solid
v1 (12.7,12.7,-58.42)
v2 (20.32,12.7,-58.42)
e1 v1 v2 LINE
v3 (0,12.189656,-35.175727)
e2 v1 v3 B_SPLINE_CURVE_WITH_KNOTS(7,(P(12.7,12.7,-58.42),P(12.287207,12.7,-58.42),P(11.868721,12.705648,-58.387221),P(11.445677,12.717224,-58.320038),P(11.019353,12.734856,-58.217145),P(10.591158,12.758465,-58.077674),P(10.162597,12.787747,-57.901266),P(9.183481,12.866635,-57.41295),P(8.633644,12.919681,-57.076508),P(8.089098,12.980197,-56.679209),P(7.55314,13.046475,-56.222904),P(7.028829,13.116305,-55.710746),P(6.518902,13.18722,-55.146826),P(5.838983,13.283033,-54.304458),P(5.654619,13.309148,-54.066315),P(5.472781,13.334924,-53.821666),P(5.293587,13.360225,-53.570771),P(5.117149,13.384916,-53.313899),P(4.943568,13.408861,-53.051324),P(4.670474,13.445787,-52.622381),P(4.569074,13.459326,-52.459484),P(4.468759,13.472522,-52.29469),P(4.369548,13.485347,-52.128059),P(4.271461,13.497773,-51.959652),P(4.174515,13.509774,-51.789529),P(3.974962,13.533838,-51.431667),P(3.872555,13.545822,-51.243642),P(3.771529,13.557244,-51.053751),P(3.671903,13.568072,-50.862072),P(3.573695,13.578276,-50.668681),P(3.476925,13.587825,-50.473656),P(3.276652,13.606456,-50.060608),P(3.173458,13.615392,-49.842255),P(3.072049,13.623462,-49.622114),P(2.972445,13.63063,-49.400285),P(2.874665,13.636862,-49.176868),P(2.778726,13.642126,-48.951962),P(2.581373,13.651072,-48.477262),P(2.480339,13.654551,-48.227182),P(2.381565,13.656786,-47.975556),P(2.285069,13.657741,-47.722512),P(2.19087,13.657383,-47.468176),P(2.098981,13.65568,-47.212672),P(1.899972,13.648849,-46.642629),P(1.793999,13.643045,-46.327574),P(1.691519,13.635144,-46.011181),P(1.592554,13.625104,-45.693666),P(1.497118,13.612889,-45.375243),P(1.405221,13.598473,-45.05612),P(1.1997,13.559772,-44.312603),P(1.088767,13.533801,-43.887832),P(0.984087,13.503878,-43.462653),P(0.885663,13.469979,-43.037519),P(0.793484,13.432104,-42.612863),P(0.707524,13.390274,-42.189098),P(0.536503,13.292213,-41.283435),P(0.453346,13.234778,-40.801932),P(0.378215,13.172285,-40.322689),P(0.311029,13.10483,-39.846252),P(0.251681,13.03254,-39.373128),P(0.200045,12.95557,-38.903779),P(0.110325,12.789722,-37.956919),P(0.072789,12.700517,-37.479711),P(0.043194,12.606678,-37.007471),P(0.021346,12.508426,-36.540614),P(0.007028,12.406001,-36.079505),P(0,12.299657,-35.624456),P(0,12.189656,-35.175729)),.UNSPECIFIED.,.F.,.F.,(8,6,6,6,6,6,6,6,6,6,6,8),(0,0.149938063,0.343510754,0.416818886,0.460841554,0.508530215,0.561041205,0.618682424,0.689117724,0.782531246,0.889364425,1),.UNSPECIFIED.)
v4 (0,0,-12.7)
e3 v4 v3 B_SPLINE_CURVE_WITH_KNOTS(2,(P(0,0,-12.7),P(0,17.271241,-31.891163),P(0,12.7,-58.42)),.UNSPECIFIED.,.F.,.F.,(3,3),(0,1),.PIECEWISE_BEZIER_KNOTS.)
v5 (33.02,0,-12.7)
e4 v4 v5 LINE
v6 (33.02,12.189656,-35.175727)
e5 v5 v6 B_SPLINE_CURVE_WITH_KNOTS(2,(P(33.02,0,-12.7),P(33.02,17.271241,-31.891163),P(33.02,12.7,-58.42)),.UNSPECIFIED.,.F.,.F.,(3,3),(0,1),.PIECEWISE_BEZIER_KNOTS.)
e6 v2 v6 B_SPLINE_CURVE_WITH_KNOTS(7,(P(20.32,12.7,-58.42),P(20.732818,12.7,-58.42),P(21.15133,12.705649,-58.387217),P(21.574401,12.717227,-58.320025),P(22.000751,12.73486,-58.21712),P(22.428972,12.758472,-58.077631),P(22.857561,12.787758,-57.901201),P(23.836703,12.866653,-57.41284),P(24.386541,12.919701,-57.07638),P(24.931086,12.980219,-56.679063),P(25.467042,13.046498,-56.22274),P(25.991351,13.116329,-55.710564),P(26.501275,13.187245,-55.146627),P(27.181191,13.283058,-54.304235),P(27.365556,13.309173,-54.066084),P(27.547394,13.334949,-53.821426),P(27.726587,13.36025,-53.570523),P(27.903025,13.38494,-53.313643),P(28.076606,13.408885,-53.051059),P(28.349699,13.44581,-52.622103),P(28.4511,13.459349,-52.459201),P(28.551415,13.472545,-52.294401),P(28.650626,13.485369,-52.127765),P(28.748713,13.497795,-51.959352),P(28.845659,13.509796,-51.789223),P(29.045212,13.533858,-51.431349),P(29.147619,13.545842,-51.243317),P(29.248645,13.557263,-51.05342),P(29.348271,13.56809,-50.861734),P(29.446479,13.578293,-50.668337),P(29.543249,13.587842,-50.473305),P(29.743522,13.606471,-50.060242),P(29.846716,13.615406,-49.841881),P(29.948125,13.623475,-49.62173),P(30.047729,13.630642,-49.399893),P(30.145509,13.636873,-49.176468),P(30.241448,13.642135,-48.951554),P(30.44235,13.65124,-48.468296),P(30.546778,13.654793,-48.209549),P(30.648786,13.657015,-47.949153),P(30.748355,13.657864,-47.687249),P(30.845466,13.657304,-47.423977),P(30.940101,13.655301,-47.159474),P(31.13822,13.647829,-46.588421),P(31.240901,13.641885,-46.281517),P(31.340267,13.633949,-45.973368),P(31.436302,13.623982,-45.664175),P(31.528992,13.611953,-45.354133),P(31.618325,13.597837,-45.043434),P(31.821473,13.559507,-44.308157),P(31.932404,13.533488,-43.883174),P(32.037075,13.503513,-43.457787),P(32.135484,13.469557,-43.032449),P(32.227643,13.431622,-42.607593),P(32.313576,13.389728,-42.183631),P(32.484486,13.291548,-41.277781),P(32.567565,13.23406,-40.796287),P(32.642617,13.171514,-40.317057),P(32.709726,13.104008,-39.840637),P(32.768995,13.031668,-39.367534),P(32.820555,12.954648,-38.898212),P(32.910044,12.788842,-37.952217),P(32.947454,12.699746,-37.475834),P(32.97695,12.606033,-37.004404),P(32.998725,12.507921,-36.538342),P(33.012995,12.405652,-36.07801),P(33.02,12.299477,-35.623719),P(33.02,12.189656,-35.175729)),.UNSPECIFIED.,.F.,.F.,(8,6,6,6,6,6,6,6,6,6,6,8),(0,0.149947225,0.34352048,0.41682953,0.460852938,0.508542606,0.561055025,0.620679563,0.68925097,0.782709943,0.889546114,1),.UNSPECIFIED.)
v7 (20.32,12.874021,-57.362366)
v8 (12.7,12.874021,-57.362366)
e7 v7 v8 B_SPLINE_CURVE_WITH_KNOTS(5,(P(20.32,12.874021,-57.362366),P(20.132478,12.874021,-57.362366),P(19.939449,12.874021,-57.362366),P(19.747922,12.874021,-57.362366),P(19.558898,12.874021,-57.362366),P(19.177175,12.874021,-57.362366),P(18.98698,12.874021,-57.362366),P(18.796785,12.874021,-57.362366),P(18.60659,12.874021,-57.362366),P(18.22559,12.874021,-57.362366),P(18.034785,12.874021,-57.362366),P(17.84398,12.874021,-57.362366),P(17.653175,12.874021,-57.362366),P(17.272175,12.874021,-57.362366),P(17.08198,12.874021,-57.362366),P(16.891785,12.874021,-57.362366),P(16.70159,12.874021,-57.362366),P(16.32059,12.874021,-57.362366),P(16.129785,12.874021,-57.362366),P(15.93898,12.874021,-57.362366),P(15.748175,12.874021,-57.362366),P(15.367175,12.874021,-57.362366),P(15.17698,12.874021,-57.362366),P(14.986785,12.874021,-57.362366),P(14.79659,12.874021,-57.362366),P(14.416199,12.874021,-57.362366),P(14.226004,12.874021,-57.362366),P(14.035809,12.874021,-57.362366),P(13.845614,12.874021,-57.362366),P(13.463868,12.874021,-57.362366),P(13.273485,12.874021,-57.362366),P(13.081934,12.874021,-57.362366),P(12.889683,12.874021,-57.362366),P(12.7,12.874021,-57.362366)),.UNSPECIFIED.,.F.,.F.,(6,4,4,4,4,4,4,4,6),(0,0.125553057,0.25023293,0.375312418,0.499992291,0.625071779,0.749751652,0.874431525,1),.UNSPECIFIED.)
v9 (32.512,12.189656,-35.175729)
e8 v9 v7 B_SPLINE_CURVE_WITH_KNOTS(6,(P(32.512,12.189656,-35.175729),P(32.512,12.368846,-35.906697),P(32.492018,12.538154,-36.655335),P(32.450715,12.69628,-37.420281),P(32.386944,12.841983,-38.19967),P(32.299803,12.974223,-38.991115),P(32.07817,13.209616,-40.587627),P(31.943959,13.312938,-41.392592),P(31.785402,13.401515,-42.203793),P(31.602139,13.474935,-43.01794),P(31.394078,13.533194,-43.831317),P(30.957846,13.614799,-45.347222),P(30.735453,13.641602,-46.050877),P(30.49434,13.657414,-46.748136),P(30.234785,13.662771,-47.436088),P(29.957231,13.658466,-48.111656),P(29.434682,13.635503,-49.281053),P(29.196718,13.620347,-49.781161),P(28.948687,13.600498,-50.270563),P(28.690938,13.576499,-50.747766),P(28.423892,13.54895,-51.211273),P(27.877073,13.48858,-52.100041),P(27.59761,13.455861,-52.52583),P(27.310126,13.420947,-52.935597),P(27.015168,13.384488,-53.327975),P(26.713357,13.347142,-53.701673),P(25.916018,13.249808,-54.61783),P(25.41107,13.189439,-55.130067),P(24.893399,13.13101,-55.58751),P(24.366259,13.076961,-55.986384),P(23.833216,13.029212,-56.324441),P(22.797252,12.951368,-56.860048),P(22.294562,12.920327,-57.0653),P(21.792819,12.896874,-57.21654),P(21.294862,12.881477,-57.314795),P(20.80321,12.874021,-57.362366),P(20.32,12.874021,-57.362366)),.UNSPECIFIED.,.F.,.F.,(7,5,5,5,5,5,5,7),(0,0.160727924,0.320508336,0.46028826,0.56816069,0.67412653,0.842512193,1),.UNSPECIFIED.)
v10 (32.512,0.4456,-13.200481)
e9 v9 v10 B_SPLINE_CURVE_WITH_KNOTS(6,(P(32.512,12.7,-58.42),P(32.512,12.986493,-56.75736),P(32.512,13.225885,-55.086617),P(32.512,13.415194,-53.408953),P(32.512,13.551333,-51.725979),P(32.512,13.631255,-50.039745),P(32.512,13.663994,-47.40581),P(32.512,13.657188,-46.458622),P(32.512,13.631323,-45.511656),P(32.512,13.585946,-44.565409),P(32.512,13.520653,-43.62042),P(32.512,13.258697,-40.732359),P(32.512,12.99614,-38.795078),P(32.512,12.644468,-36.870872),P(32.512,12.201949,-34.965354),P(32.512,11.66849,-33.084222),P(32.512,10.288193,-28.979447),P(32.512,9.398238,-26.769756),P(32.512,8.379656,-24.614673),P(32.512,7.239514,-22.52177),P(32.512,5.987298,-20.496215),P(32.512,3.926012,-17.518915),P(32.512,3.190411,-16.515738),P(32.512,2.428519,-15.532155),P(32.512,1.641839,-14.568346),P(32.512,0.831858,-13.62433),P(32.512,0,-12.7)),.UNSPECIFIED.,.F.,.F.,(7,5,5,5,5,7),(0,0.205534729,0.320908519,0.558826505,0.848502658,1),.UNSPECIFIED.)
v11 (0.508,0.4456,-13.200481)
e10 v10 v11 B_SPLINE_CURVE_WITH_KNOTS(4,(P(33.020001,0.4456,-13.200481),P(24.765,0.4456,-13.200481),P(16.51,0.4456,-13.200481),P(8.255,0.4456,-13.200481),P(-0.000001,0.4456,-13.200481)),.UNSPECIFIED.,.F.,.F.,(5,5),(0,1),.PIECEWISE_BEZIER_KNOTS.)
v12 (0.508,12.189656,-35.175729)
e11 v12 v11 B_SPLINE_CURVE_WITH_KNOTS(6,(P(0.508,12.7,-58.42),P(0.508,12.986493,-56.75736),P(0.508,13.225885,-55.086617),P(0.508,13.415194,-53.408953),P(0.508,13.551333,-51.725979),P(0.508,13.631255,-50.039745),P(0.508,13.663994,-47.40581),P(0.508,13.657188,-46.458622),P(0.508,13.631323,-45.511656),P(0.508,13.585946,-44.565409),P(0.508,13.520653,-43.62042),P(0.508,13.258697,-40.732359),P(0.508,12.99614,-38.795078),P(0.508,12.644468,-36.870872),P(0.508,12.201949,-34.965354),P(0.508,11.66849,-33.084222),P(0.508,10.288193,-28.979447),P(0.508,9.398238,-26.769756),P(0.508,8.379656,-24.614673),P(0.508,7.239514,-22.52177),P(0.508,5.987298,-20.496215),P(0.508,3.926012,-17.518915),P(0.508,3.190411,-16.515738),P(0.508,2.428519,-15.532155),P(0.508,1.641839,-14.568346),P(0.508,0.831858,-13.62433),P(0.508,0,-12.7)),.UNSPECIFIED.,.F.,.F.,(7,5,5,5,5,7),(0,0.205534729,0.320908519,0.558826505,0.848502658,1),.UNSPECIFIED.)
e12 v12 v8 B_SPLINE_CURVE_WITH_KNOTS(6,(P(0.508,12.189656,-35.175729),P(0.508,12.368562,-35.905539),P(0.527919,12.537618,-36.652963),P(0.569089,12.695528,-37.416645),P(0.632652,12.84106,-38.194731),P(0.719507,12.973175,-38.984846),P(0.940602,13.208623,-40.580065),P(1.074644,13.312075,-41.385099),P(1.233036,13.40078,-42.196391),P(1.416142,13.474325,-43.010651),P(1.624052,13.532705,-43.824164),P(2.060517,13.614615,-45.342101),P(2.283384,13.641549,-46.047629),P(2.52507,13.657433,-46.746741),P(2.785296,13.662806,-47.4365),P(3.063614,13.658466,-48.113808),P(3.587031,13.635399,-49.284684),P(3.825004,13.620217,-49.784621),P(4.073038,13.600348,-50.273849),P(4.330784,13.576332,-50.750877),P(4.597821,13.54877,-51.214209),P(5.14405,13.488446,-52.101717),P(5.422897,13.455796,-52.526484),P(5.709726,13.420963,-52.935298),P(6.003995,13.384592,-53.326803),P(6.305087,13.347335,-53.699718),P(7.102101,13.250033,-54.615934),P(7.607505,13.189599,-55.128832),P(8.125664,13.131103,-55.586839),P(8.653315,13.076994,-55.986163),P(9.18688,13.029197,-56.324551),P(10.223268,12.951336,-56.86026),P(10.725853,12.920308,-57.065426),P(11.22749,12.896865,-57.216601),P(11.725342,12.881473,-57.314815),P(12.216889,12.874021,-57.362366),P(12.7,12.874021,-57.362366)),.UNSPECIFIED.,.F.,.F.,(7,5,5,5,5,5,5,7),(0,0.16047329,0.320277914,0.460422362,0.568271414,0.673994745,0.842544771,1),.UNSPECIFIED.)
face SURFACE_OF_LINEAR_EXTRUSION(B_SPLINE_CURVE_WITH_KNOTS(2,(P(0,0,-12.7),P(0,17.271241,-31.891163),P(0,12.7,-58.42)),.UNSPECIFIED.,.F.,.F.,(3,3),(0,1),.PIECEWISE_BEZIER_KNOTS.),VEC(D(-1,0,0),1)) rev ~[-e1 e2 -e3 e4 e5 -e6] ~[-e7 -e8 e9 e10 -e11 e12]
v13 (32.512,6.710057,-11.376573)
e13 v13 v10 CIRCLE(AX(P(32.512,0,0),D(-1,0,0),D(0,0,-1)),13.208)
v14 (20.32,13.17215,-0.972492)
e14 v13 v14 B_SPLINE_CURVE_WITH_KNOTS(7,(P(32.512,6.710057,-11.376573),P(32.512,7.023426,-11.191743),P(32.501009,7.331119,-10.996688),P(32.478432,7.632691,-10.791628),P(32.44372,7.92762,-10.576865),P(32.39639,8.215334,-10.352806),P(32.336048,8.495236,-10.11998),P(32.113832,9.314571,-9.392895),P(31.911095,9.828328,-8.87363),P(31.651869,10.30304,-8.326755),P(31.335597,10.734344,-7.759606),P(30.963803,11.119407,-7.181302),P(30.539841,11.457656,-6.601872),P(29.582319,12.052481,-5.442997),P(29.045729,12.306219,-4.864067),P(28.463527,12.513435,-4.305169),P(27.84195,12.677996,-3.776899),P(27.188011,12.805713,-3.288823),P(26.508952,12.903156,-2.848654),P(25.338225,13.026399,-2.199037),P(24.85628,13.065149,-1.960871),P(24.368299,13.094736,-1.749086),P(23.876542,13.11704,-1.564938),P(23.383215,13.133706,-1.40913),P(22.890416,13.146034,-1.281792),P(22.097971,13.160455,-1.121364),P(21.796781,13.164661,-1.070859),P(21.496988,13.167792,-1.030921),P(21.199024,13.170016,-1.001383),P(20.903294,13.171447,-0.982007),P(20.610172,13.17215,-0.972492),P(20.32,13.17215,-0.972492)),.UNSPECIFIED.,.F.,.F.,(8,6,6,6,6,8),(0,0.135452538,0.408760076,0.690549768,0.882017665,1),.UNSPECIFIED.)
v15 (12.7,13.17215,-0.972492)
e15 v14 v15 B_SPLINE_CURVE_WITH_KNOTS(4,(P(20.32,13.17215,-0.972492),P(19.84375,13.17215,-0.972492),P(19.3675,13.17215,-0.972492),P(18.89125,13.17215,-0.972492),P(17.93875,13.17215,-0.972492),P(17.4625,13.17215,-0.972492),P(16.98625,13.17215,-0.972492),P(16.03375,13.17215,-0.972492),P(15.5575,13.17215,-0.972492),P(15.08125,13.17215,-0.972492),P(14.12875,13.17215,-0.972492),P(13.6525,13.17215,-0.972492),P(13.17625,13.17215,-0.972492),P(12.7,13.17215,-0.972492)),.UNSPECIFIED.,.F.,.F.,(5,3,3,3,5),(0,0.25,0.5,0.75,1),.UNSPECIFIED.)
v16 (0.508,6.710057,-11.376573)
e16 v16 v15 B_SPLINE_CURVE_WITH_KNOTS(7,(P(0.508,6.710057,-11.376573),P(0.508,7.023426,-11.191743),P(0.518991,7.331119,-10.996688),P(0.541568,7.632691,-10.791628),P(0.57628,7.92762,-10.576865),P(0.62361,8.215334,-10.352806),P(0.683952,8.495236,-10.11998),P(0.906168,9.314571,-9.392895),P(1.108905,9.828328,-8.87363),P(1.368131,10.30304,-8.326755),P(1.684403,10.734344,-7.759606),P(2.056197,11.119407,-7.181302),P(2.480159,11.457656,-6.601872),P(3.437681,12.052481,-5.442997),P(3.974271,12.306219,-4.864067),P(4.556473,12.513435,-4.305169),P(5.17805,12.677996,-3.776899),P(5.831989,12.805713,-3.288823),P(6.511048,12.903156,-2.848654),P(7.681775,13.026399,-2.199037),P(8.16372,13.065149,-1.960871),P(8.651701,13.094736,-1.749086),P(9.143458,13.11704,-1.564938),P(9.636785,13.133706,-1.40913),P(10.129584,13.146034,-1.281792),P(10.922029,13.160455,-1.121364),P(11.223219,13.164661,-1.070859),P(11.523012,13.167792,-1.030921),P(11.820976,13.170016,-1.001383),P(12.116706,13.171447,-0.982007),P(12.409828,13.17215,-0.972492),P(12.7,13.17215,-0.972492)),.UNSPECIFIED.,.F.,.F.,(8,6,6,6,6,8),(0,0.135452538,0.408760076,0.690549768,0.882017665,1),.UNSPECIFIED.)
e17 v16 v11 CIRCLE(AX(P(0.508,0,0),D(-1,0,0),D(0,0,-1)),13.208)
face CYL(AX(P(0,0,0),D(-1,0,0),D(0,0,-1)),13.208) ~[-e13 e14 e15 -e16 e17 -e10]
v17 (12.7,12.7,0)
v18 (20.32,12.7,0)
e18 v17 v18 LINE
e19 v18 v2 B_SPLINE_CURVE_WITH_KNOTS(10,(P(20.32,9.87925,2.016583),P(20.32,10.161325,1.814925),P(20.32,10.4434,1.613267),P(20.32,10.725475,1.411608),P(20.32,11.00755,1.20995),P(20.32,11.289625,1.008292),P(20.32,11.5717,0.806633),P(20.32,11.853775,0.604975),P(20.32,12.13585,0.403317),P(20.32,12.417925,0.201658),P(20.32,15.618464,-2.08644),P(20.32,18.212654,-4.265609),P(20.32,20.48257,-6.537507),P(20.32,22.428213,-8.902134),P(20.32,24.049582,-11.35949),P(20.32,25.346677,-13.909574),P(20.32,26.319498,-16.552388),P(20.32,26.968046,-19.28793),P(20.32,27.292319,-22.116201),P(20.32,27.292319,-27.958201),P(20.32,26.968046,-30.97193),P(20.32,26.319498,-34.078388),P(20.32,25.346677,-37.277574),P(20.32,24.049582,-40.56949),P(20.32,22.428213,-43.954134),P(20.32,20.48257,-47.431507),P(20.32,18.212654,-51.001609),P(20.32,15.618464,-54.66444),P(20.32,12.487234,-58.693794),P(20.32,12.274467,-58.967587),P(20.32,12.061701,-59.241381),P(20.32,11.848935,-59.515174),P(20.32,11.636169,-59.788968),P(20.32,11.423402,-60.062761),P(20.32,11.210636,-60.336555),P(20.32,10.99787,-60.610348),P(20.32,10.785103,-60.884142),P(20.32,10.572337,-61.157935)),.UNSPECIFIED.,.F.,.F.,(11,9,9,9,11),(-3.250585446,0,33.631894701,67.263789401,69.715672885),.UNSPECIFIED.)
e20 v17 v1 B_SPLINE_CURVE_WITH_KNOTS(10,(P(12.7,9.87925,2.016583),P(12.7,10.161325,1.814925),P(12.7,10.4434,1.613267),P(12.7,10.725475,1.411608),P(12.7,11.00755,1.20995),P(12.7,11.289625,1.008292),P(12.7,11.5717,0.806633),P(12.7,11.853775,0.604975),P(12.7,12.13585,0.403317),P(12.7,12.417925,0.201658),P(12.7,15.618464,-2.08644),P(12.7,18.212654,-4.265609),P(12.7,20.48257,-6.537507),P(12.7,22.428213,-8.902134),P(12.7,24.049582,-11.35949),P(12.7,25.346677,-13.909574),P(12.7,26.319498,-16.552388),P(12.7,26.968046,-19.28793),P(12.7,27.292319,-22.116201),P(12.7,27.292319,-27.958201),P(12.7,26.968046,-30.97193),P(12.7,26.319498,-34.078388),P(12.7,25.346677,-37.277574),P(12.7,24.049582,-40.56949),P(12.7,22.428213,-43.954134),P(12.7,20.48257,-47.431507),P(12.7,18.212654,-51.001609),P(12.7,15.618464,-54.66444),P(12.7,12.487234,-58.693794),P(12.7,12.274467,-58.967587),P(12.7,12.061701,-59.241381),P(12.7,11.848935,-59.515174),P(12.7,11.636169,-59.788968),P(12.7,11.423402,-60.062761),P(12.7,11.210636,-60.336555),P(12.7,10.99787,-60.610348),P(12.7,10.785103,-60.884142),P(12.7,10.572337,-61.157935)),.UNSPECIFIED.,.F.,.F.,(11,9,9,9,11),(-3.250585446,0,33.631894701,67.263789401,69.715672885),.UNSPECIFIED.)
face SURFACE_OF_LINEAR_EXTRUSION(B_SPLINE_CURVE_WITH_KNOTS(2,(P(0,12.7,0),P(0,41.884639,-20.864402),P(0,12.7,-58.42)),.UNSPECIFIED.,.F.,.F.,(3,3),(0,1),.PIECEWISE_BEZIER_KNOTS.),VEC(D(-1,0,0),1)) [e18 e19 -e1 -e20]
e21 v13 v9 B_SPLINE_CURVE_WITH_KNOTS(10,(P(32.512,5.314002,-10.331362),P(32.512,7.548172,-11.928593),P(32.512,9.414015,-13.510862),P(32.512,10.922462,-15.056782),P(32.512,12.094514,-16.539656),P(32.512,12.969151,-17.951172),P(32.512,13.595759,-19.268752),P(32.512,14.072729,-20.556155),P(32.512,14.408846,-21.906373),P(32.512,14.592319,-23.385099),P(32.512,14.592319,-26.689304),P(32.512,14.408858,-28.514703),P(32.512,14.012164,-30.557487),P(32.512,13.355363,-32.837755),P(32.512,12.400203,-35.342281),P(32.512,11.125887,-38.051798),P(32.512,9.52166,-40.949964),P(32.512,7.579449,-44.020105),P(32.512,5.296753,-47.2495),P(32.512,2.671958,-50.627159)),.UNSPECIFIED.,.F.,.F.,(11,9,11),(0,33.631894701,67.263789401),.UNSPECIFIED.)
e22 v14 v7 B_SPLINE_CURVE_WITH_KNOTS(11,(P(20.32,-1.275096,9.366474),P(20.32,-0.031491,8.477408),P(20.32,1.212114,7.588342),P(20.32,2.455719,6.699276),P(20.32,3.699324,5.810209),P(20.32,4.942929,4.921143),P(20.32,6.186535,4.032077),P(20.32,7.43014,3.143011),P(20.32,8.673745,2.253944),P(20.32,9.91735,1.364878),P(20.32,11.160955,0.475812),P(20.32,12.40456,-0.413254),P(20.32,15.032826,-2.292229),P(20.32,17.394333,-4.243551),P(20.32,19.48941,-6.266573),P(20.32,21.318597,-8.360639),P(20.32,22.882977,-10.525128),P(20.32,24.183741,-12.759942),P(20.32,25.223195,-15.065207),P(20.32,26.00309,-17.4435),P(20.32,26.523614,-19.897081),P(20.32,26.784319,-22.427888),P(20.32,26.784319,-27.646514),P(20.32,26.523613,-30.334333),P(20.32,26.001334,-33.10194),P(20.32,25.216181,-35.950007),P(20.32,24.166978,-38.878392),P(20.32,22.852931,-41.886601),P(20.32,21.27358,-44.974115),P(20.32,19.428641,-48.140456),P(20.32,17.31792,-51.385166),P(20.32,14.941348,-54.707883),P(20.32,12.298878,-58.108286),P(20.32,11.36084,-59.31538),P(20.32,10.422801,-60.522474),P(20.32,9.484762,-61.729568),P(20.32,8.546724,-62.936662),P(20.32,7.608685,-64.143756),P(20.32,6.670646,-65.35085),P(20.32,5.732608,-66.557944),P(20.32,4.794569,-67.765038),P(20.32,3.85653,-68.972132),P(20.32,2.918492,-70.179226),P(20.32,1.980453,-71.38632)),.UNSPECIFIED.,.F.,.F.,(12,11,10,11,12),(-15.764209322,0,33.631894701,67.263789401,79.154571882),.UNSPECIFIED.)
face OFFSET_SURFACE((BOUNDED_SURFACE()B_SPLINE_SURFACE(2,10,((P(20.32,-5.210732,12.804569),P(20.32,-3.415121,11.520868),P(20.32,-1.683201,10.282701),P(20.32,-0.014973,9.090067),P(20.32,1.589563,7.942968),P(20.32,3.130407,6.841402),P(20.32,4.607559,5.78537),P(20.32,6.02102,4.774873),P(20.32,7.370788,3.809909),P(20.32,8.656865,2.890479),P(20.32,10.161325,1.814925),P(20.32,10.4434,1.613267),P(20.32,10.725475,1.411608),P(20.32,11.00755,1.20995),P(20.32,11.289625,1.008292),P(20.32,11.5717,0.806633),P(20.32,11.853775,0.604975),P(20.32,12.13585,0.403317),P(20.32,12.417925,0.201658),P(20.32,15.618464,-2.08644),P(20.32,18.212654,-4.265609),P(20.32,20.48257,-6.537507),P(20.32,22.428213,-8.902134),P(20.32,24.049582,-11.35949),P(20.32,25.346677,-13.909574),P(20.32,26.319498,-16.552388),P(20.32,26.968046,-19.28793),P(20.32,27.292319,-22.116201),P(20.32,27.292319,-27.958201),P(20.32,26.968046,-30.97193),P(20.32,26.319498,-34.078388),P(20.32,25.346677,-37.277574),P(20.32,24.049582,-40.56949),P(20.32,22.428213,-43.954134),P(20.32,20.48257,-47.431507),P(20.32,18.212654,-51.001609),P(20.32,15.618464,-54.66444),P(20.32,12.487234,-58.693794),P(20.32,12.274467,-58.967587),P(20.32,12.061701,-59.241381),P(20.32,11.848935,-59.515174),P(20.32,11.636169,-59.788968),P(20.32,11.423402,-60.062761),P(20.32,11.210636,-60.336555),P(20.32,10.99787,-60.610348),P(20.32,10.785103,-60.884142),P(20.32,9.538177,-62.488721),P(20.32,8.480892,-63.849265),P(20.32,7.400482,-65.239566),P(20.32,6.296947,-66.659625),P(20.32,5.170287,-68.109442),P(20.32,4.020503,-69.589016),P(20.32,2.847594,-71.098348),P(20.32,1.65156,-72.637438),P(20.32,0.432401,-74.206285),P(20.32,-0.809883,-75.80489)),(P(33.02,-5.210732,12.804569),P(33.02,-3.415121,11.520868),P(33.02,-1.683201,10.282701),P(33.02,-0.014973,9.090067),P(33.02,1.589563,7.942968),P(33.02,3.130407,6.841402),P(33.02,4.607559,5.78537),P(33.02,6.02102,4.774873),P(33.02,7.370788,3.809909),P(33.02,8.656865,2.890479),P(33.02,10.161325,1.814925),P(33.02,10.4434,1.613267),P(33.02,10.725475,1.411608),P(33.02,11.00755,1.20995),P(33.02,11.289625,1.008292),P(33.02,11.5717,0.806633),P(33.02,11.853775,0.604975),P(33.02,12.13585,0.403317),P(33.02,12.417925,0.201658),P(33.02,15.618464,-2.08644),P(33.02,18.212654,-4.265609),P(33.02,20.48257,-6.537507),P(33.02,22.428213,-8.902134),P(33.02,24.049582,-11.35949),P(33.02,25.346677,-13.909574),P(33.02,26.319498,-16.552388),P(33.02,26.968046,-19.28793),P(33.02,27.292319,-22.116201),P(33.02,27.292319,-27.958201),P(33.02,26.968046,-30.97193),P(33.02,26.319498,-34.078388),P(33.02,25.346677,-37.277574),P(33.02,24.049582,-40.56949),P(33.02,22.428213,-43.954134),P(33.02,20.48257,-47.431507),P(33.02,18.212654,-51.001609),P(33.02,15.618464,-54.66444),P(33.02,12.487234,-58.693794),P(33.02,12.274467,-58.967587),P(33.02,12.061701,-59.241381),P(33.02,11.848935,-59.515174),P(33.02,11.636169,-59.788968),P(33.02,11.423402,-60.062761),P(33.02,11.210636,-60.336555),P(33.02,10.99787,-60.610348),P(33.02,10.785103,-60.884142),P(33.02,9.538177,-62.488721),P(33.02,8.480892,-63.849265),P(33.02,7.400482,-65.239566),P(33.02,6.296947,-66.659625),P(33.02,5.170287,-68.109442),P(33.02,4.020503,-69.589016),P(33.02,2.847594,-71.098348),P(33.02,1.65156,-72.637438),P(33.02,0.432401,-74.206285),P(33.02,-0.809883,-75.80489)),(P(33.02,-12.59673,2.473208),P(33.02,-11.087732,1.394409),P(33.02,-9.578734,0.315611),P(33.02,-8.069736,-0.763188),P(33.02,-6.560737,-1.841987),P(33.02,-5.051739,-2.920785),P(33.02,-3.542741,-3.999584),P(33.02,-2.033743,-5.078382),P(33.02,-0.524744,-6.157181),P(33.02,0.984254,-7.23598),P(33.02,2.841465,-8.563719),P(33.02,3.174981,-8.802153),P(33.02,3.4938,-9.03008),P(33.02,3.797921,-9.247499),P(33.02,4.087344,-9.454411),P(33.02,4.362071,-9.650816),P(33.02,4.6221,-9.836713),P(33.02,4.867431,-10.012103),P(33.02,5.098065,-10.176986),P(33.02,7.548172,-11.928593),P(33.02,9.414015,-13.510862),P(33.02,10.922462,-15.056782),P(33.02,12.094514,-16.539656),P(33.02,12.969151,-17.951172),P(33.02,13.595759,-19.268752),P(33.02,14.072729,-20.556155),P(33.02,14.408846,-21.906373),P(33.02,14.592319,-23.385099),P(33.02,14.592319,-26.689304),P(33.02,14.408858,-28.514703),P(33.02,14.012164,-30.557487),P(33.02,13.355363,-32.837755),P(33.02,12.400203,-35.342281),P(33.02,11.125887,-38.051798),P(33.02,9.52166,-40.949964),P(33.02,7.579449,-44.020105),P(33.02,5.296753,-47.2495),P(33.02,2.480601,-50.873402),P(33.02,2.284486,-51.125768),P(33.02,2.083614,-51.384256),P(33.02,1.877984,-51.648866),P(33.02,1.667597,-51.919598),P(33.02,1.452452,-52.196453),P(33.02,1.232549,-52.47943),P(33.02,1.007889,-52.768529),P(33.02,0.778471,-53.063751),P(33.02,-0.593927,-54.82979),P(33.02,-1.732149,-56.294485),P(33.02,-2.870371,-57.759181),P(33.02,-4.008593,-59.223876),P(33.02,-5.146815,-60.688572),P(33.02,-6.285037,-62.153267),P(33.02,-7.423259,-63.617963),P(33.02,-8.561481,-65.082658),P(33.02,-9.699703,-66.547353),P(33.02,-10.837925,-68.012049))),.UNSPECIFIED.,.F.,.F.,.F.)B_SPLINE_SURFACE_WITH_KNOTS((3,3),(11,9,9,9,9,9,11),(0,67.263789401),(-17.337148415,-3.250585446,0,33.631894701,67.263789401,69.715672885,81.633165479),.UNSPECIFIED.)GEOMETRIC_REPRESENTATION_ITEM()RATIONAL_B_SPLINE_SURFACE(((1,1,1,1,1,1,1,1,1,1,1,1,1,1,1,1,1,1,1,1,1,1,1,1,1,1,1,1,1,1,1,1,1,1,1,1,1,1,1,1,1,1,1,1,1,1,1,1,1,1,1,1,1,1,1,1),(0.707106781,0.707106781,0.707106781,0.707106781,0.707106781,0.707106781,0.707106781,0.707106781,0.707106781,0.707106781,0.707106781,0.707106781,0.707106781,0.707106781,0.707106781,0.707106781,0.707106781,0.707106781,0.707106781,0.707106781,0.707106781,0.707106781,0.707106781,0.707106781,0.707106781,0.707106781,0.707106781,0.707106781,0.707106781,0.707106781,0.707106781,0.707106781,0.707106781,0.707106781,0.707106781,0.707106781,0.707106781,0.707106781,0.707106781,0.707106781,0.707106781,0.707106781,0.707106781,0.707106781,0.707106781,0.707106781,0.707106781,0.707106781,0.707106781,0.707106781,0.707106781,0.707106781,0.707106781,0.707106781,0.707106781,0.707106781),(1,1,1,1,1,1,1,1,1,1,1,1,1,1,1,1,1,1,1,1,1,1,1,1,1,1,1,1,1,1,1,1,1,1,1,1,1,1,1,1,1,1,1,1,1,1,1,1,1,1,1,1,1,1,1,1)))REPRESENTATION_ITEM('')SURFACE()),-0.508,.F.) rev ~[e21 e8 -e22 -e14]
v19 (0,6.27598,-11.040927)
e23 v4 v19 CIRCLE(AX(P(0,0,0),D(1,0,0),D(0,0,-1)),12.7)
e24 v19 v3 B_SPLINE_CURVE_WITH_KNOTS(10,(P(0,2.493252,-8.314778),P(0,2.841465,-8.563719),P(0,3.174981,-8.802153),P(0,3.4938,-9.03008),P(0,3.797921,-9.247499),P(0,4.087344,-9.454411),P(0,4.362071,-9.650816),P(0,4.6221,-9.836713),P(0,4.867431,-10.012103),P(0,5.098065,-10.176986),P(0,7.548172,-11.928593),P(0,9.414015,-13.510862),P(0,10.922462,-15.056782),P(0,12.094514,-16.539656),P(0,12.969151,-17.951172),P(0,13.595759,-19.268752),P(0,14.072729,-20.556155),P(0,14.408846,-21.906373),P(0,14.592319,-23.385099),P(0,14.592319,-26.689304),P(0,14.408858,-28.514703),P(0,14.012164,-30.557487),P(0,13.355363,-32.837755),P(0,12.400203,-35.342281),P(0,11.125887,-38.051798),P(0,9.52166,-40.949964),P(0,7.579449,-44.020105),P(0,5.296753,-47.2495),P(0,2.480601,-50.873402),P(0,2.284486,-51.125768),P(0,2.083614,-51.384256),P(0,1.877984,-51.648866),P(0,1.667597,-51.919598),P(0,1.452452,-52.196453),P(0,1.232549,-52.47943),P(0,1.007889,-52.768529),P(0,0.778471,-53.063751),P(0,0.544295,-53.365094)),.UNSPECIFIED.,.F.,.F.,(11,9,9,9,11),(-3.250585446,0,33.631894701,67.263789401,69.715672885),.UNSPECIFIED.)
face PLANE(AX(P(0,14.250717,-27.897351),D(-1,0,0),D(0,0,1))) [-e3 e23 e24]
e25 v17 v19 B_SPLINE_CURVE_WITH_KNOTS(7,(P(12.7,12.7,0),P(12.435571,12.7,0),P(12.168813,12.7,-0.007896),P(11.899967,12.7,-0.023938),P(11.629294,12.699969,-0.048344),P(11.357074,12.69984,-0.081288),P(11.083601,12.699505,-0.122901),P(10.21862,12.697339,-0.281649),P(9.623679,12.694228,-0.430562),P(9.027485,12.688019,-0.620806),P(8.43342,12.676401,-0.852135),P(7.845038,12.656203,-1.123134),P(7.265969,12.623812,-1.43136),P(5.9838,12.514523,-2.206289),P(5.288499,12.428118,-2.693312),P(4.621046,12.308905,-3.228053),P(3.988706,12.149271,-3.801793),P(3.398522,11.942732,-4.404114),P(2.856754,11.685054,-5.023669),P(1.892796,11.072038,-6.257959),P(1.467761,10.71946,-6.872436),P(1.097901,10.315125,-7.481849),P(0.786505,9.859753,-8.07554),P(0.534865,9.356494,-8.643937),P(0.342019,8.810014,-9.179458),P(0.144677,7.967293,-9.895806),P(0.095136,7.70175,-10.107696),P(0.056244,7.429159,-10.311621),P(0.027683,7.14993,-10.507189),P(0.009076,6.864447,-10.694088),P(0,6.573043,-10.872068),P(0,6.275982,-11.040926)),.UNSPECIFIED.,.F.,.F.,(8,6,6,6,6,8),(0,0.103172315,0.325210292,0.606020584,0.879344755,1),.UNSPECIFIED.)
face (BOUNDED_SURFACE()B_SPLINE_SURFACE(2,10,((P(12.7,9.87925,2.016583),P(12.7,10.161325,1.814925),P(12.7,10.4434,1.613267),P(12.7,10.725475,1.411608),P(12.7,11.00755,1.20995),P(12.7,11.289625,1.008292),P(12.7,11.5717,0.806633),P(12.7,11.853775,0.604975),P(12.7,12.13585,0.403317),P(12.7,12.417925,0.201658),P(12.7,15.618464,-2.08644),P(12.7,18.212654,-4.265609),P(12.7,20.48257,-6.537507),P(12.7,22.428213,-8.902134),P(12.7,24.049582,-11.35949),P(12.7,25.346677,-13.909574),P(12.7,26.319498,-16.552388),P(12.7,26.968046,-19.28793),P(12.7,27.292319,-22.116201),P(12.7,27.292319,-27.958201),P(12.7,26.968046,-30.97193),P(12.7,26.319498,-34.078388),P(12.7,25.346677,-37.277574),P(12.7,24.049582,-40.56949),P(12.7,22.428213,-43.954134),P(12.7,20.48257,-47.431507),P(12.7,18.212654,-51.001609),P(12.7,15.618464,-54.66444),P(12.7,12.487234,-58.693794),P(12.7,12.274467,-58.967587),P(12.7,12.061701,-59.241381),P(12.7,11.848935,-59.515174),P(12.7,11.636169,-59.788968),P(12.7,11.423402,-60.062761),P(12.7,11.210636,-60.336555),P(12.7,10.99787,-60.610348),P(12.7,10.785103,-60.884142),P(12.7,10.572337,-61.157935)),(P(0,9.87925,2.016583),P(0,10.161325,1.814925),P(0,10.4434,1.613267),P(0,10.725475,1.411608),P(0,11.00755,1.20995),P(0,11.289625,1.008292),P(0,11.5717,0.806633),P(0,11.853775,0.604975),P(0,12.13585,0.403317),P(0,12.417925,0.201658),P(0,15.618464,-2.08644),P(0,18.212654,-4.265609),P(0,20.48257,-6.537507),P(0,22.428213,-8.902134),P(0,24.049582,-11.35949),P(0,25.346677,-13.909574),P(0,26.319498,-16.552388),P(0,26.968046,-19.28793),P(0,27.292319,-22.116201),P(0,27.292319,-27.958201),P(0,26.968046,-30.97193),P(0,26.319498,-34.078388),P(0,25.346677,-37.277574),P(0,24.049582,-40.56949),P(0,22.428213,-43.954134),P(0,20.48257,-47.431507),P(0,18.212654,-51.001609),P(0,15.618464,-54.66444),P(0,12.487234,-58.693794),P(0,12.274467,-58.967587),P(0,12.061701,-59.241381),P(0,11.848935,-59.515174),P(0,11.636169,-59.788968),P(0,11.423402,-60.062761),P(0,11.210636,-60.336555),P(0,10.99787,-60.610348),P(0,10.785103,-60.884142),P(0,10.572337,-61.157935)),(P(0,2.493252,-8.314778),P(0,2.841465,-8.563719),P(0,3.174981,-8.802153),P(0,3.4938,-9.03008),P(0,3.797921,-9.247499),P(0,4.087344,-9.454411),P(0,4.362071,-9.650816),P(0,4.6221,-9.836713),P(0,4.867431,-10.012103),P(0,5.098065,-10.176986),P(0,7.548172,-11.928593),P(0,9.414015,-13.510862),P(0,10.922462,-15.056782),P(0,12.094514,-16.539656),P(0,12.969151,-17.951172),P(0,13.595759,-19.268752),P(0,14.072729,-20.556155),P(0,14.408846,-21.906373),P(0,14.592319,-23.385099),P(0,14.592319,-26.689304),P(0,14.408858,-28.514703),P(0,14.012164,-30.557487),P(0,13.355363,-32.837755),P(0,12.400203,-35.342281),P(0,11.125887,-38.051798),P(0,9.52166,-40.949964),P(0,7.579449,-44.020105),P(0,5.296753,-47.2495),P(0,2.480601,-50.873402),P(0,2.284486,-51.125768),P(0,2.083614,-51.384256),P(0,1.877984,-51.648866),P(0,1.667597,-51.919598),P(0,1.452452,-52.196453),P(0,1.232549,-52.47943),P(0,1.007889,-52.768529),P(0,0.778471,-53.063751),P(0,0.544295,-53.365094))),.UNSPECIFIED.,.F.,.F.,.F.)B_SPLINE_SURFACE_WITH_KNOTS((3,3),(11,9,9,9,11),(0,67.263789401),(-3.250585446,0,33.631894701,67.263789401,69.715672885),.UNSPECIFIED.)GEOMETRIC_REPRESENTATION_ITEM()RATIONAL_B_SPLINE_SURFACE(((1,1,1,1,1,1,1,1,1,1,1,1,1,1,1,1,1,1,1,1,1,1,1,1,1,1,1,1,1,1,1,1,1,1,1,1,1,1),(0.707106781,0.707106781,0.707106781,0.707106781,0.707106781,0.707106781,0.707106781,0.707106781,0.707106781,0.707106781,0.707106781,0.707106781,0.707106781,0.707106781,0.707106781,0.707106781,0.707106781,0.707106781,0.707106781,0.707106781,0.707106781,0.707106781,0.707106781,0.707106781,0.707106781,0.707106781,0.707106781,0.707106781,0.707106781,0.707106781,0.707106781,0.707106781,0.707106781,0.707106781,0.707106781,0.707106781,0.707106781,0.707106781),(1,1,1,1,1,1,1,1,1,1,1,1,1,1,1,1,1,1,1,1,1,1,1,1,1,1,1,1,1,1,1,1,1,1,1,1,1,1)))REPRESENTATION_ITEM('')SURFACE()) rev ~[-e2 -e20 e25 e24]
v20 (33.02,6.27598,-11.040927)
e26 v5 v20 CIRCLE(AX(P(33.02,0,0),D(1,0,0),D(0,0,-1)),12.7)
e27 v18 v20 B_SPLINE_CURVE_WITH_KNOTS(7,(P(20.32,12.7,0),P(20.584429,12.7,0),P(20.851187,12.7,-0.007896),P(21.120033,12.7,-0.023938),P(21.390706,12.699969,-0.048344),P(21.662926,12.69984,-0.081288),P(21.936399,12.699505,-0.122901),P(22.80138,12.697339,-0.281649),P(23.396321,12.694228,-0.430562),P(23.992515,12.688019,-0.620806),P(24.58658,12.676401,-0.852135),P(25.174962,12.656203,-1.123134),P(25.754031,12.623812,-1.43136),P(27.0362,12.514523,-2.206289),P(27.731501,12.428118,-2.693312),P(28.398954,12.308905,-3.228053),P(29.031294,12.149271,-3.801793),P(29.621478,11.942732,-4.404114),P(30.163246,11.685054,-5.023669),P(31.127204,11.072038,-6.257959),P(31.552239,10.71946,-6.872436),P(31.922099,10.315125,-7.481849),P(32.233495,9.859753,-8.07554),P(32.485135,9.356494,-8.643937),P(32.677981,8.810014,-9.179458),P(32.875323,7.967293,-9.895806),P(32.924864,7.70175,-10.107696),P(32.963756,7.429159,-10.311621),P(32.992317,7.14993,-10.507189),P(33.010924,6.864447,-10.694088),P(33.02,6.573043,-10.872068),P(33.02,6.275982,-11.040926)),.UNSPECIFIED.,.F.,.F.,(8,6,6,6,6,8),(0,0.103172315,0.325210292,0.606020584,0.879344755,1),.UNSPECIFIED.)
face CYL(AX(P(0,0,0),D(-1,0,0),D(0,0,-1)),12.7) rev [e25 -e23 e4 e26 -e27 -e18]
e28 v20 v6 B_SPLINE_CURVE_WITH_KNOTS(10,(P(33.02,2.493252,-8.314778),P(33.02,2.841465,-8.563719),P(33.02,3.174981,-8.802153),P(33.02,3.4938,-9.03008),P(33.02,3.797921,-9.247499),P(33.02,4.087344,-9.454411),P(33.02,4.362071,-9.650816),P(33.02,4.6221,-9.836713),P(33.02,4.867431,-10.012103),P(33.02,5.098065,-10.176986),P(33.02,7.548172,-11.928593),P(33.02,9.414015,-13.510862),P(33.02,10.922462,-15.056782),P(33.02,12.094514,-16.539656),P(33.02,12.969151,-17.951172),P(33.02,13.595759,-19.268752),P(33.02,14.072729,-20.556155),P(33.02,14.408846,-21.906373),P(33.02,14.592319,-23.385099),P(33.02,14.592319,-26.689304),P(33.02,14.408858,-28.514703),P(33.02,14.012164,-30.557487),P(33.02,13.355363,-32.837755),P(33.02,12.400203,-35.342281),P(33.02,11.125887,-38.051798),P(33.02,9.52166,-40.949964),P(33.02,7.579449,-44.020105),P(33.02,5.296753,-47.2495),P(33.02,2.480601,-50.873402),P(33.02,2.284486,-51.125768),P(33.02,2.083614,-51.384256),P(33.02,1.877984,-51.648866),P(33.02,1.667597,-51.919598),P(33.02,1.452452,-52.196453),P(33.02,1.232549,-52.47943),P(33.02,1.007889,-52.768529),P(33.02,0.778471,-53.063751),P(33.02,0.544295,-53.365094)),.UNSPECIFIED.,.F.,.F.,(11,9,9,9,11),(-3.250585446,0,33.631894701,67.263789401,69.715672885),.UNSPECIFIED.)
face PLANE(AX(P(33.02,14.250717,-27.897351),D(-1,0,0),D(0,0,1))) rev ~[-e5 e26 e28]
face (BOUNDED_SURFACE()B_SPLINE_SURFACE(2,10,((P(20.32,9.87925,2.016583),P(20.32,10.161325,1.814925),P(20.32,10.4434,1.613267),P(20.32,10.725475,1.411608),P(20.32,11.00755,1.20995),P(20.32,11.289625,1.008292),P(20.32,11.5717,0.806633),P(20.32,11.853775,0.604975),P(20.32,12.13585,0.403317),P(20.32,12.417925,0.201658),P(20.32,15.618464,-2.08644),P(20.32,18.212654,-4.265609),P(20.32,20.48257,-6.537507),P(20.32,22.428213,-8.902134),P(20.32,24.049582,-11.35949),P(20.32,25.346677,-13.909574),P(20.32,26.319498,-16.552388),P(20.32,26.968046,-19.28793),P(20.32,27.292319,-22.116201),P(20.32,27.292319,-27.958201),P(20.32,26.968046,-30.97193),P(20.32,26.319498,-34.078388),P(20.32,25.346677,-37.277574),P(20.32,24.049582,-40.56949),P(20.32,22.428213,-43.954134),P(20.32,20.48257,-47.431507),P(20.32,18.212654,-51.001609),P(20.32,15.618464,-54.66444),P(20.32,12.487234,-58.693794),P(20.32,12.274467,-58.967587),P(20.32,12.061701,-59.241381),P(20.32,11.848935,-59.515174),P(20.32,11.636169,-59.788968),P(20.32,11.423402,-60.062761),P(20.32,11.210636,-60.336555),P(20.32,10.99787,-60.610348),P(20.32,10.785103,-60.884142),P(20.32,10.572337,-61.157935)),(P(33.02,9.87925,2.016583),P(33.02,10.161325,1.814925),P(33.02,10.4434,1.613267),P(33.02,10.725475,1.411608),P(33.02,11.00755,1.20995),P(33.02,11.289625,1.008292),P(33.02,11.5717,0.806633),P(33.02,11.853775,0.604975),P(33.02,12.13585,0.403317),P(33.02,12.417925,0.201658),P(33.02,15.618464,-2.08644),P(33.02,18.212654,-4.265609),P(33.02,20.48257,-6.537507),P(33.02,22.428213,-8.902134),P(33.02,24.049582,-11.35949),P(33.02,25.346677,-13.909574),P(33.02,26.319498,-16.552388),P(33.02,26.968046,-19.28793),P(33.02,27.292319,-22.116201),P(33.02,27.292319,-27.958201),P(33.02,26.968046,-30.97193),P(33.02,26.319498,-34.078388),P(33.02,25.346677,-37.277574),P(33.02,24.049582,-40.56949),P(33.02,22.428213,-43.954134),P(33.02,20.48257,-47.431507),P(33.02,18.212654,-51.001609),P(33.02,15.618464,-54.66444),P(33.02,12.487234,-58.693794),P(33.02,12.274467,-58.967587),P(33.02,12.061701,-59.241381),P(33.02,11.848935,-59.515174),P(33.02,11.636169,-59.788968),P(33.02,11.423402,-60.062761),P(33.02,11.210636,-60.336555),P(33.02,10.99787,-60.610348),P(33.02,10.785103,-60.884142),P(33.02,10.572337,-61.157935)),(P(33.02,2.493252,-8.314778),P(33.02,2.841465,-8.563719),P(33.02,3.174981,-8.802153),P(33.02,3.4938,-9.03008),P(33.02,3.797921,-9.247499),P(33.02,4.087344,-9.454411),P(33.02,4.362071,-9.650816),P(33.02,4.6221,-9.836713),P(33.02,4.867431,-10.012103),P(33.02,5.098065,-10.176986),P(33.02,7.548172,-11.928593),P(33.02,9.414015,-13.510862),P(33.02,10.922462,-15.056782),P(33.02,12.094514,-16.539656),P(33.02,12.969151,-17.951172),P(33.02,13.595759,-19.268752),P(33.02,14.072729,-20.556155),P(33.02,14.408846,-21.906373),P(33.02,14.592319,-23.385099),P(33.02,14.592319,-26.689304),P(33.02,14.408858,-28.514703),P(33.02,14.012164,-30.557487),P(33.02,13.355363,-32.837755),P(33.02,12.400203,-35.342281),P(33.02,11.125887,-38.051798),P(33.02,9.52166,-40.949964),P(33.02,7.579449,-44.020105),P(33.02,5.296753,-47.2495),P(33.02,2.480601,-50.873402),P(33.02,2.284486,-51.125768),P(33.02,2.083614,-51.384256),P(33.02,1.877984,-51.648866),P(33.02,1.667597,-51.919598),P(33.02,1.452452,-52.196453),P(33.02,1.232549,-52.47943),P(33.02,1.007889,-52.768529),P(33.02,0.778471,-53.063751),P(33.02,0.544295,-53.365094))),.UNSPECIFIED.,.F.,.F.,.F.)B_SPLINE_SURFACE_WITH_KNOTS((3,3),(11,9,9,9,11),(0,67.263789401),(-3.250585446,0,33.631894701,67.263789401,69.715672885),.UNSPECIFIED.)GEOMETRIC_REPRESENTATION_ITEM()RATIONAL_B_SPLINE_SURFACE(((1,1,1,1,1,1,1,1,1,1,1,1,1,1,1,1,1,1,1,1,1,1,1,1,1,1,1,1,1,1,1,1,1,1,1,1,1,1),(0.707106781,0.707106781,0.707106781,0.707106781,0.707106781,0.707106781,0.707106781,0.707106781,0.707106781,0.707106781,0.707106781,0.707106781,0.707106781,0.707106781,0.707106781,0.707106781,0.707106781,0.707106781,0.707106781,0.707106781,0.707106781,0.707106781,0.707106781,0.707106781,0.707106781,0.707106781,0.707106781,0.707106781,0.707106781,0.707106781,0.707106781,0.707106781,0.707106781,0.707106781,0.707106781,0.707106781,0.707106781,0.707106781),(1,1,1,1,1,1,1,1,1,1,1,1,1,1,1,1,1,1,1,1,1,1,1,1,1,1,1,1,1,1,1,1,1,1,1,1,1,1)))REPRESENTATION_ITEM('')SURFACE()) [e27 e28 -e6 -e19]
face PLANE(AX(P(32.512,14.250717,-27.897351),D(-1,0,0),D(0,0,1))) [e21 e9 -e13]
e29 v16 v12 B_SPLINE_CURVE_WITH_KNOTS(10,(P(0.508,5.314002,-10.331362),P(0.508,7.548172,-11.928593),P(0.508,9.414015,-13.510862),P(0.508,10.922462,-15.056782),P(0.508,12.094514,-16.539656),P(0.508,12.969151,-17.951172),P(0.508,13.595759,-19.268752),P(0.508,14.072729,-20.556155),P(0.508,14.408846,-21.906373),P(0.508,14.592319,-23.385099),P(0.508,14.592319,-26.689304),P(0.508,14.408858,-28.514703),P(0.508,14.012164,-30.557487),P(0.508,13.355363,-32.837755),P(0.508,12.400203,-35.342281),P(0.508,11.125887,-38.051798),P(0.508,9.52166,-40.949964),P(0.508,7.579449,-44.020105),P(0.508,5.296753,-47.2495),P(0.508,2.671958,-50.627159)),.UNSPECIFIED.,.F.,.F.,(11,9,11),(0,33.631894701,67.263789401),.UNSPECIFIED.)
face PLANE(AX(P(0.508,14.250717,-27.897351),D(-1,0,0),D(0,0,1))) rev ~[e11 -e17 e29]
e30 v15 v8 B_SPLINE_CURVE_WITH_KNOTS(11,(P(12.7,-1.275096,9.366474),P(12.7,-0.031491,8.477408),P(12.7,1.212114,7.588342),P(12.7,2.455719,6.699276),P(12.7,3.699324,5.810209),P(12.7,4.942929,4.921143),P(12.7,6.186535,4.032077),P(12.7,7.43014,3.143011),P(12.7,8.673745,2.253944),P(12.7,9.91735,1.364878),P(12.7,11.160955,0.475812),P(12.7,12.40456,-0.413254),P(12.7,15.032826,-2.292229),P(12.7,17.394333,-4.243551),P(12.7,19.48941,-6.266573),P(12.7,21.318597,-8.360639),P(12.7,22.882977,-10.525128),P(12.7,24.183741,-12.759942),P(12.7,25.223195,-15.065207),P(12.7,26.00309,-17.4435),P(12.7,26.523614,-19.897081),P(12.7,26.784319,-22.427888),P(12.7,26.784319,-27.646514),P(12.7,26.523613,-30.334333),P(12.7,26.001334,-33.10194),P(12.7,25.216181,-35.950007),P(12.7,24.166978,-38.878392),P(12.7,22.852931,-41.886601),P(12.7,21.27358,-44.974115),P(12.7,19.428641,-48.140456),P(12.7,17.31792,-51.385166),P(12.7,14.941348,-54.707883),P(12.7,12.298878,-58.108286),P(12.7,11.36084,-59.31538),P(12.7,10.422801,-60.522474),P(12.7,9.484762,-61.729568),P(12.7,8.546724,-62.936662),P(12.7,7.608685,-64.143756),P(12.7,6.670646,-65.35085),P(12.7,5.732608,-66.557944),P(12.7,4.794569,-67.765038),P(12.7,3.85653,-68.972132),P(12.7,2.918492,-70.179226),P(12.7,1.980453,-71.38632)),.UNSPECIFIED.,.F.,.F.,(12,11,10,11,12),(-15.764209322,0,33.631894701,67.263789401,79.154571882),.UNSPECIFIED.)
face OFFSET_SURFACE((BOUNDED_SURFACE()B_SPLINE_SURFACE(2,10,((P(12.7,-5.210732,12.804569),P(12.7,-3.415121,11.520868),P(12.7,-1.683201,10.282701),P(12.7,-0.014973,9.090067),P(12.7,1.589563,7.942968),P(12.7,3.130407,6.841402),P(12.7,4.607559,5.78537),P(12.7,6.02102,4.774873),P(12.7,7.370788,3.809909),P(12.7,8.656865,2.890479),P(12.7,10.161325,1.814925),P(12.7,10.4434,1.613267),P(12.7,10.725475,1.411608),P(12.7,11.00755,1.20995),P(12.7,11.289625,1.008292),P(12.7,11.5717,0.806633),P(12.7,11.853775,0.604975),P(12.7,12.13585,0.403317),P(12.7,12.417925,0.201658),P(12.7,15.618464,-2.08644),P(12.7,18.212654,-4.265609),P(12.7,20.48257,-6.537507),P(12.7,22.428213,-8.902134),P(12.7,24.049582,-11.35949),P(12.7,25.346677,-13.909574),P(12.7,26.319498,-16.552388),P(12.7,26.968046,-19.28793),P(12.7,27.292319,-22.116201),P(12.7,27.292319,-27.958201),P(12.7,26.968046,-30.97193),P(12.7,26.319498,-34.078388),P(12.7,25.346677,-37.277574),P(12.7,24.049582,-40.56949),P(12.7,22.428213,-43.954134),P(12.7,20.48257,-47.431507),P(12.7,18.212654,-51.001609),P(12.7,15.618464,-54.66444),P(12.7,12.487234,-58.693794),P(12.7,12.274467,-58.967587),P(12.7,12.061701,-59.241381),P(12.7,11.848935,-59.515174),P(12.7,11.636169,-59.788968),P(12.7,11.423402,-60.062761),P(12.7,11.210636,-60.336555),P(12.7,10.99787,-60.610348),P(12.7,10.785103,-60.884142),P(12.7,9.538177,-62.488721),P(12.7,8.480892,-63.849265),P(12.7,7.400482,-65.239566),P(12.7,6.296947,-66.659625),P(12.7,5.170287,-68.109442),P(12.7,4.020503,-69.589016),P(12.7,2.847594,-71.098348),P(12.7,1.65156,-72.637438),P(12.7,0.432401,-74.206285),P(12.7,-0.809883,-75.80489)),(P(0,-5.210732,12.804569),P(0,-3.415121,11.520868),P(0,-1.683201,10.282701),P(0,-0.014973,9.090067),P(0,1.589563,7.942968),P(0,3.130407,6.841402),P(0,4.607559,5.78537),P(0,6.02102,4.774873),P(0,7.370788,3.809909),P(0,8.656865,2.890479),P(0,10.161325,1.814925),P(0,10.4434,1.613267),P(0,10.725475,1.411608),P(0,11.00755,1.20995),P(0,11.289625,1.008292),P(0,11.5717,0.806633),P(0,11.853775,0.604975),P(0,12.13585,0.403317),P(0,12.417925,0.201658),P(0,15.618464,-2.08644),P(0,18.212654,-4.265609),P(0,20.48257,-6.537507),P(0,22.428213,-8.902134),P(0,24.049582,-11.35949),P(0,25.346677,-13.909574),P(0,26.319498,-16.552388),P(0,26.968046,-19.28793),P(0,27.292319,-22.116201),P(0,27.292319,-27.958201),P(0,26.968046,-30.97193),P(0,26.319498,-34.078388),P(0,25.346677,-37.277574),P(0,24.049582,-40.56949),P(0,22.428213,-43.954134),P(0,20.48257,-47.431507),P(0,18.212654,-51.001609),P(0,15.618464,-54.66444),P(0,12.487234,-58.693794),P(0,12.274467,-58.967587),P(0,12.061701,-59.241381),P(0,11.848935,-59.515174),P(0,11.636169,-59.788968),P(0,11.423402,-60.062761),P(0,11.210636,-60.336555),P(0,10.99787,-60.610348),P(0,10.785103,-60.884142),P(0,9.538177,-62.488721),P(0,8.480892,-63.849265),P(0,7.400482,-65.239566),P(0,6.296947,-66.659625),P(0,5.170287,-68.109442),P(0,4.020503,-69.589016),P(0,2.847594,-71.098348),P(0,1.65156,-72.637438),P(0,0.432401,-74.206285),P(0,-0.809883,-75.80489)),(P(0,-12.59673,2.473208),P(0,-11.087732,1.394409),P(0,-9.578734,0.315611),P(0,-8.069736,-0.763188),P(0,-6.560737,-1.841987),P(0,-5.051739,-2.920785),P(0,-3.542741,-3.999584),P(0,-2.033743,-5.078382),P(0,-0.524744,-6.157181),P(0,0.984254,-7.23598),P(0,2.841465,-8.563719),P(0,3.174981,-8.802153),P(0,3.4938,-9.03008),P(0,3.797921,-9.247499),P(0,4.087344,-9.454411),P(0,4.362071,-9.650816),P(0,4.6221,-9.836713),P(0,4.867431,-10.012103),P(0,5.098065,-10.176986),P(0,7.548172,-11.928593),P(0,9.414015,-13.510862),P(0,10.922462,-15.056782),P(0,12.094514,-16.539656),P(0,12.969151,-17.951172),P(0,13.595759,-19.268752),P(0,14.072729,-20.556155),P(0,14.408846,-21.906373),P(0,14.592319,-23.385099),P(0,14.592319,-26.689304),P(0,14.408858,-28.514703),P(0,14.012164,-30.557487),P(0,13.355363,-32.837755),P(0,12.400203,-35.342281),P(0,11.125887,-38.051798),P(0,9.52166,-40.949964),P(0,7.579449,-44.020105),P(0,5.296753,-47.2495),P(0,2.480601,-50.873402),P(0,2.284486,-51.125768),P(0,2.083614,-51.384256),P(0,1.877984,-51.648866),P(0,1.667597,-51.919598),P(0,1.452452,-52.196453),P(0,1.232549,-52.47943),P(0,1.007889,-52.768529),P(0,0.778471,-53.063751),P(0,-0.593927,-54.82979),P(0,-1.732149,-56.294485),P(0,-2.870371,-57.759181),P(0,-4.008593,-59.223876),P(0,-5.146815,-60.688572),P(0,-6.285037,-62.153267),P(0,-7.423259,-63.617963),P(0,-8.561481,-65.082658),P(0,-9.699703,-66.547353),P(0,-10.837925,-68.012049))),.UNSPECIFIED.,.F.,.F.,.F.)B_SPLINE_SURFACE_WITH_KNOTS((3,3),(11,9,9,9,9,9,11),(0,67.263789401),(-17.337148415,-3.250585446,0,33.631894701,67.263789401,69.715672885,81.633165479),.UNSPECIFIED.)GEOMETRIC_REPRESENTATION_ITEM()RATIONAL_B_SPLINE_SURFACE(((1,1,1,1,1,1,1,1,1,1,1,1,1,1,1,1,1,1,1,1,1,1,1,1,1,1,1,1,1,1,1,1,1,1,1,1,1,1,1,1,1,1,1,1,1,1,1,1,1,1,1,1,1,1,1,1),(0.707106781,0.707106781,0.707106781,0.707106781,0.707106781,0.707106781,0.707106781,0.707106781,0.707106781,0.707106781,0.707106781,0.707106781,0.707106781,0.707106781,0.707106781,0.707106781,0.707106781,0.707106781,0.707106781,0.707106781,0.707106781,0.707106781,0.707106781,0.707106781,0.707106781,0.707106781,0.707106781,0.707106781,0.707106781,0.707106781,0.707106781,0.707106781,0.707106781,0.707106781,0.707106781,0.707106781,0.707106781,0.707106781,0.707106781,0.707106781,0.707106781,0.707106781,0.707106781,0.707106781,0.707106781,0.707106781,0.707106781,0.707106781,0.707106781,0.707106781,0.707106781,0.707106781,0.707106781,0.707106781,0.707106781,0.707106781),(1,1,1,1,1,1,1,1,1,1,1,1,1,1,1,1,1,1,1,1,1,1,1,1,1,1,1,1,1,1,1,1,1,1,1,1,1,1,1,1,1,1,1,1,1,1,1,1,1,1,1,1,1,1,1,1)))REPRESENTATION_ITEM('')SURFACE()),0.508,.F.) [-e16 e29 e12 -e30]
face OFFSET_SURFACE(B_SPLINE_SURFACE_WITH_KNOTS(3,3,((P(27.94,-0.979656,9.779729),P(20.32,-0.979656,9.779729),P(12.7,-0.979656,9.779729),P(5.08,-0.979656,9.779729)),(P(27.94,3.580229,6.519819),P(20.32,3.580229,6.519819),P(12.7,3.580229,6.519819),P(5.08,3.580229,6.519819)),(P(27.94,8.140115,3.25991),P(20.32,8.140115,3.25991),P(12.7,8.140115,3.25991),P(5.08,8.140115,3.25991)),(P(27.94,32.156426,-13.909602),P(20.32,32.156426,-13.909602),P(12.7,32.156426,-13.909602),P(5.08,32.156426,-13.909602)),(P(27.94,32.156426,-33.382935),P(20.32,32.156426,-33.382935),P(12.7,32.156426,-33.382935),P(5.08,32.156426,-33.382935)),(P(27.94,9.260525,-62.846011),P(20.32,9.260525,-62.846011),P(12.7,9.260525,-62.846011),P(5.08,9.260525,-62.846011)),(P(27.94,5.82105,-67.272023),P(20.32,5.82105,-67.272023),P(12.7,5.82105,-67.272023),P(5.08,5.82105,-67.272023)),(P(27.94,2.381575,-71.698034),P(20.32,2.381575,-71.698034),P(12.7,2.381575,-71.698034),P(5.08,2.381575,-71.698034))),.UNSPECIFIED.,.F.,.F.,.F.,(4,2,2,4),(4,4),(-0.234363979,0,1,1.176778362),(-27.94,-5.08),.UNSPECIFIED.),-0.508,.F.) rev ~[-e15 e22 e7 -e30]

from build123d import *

# Parameters (mm, degrees)
BOSS_EXTRUDE1_DEPTH = 33.02
FILLET1_R           = 12.7
SHELL1_T            = -0.508


with BuildPart() as part:
    # Sketch1 → Boss-Extrude1 (new body)
    with BuildSketch(Plane(origin=(0, 0, 0), x_dir=(0, 0, -1), z_dir=(1, 0, 0))):
        with BuildLine():
            ThreePointArc((12.7, 0), (8.980256121, 8.980256121), (0, 12.7))
            add(Edge.make_bspline(
                [(0, 12.7), (20.864402494, 41.884638656), (58.42, 12.7)],
                knots=[0, 0, 0, 1, 1, 1], degree=2))
            add(Edge.make_bspline(
                [(12.7, 0), (31.891163141, 17.27124085), (58.42, 12.7)],
                knots=[0, 0, 0, 1, 1, 1], degree=2))
        make_face()
    extrude(amount=BOSS_EXTRUDE1_DEPTH)

    # Fillet1
    fillet1_edges = [part.edges().sort_by_distance(p)[0] for p in [
        (0, 27.096981156, -28.472641607),
        (33.02, 27.096981156, -28.472641607),
    ]]
    fillet(fillet1_edges, radius=FILLET1_R)

    # Shell1
    shell1_openings = [part.faces().sort_by_distance(p)[0] for p in [
        (16.58654835, 6.565370086, -33.984689517),
    ]]
    offset(amount=SHELL1_T, openings=shell1_openings, kind=Kind.INTERSECTION)


solid = part.part
